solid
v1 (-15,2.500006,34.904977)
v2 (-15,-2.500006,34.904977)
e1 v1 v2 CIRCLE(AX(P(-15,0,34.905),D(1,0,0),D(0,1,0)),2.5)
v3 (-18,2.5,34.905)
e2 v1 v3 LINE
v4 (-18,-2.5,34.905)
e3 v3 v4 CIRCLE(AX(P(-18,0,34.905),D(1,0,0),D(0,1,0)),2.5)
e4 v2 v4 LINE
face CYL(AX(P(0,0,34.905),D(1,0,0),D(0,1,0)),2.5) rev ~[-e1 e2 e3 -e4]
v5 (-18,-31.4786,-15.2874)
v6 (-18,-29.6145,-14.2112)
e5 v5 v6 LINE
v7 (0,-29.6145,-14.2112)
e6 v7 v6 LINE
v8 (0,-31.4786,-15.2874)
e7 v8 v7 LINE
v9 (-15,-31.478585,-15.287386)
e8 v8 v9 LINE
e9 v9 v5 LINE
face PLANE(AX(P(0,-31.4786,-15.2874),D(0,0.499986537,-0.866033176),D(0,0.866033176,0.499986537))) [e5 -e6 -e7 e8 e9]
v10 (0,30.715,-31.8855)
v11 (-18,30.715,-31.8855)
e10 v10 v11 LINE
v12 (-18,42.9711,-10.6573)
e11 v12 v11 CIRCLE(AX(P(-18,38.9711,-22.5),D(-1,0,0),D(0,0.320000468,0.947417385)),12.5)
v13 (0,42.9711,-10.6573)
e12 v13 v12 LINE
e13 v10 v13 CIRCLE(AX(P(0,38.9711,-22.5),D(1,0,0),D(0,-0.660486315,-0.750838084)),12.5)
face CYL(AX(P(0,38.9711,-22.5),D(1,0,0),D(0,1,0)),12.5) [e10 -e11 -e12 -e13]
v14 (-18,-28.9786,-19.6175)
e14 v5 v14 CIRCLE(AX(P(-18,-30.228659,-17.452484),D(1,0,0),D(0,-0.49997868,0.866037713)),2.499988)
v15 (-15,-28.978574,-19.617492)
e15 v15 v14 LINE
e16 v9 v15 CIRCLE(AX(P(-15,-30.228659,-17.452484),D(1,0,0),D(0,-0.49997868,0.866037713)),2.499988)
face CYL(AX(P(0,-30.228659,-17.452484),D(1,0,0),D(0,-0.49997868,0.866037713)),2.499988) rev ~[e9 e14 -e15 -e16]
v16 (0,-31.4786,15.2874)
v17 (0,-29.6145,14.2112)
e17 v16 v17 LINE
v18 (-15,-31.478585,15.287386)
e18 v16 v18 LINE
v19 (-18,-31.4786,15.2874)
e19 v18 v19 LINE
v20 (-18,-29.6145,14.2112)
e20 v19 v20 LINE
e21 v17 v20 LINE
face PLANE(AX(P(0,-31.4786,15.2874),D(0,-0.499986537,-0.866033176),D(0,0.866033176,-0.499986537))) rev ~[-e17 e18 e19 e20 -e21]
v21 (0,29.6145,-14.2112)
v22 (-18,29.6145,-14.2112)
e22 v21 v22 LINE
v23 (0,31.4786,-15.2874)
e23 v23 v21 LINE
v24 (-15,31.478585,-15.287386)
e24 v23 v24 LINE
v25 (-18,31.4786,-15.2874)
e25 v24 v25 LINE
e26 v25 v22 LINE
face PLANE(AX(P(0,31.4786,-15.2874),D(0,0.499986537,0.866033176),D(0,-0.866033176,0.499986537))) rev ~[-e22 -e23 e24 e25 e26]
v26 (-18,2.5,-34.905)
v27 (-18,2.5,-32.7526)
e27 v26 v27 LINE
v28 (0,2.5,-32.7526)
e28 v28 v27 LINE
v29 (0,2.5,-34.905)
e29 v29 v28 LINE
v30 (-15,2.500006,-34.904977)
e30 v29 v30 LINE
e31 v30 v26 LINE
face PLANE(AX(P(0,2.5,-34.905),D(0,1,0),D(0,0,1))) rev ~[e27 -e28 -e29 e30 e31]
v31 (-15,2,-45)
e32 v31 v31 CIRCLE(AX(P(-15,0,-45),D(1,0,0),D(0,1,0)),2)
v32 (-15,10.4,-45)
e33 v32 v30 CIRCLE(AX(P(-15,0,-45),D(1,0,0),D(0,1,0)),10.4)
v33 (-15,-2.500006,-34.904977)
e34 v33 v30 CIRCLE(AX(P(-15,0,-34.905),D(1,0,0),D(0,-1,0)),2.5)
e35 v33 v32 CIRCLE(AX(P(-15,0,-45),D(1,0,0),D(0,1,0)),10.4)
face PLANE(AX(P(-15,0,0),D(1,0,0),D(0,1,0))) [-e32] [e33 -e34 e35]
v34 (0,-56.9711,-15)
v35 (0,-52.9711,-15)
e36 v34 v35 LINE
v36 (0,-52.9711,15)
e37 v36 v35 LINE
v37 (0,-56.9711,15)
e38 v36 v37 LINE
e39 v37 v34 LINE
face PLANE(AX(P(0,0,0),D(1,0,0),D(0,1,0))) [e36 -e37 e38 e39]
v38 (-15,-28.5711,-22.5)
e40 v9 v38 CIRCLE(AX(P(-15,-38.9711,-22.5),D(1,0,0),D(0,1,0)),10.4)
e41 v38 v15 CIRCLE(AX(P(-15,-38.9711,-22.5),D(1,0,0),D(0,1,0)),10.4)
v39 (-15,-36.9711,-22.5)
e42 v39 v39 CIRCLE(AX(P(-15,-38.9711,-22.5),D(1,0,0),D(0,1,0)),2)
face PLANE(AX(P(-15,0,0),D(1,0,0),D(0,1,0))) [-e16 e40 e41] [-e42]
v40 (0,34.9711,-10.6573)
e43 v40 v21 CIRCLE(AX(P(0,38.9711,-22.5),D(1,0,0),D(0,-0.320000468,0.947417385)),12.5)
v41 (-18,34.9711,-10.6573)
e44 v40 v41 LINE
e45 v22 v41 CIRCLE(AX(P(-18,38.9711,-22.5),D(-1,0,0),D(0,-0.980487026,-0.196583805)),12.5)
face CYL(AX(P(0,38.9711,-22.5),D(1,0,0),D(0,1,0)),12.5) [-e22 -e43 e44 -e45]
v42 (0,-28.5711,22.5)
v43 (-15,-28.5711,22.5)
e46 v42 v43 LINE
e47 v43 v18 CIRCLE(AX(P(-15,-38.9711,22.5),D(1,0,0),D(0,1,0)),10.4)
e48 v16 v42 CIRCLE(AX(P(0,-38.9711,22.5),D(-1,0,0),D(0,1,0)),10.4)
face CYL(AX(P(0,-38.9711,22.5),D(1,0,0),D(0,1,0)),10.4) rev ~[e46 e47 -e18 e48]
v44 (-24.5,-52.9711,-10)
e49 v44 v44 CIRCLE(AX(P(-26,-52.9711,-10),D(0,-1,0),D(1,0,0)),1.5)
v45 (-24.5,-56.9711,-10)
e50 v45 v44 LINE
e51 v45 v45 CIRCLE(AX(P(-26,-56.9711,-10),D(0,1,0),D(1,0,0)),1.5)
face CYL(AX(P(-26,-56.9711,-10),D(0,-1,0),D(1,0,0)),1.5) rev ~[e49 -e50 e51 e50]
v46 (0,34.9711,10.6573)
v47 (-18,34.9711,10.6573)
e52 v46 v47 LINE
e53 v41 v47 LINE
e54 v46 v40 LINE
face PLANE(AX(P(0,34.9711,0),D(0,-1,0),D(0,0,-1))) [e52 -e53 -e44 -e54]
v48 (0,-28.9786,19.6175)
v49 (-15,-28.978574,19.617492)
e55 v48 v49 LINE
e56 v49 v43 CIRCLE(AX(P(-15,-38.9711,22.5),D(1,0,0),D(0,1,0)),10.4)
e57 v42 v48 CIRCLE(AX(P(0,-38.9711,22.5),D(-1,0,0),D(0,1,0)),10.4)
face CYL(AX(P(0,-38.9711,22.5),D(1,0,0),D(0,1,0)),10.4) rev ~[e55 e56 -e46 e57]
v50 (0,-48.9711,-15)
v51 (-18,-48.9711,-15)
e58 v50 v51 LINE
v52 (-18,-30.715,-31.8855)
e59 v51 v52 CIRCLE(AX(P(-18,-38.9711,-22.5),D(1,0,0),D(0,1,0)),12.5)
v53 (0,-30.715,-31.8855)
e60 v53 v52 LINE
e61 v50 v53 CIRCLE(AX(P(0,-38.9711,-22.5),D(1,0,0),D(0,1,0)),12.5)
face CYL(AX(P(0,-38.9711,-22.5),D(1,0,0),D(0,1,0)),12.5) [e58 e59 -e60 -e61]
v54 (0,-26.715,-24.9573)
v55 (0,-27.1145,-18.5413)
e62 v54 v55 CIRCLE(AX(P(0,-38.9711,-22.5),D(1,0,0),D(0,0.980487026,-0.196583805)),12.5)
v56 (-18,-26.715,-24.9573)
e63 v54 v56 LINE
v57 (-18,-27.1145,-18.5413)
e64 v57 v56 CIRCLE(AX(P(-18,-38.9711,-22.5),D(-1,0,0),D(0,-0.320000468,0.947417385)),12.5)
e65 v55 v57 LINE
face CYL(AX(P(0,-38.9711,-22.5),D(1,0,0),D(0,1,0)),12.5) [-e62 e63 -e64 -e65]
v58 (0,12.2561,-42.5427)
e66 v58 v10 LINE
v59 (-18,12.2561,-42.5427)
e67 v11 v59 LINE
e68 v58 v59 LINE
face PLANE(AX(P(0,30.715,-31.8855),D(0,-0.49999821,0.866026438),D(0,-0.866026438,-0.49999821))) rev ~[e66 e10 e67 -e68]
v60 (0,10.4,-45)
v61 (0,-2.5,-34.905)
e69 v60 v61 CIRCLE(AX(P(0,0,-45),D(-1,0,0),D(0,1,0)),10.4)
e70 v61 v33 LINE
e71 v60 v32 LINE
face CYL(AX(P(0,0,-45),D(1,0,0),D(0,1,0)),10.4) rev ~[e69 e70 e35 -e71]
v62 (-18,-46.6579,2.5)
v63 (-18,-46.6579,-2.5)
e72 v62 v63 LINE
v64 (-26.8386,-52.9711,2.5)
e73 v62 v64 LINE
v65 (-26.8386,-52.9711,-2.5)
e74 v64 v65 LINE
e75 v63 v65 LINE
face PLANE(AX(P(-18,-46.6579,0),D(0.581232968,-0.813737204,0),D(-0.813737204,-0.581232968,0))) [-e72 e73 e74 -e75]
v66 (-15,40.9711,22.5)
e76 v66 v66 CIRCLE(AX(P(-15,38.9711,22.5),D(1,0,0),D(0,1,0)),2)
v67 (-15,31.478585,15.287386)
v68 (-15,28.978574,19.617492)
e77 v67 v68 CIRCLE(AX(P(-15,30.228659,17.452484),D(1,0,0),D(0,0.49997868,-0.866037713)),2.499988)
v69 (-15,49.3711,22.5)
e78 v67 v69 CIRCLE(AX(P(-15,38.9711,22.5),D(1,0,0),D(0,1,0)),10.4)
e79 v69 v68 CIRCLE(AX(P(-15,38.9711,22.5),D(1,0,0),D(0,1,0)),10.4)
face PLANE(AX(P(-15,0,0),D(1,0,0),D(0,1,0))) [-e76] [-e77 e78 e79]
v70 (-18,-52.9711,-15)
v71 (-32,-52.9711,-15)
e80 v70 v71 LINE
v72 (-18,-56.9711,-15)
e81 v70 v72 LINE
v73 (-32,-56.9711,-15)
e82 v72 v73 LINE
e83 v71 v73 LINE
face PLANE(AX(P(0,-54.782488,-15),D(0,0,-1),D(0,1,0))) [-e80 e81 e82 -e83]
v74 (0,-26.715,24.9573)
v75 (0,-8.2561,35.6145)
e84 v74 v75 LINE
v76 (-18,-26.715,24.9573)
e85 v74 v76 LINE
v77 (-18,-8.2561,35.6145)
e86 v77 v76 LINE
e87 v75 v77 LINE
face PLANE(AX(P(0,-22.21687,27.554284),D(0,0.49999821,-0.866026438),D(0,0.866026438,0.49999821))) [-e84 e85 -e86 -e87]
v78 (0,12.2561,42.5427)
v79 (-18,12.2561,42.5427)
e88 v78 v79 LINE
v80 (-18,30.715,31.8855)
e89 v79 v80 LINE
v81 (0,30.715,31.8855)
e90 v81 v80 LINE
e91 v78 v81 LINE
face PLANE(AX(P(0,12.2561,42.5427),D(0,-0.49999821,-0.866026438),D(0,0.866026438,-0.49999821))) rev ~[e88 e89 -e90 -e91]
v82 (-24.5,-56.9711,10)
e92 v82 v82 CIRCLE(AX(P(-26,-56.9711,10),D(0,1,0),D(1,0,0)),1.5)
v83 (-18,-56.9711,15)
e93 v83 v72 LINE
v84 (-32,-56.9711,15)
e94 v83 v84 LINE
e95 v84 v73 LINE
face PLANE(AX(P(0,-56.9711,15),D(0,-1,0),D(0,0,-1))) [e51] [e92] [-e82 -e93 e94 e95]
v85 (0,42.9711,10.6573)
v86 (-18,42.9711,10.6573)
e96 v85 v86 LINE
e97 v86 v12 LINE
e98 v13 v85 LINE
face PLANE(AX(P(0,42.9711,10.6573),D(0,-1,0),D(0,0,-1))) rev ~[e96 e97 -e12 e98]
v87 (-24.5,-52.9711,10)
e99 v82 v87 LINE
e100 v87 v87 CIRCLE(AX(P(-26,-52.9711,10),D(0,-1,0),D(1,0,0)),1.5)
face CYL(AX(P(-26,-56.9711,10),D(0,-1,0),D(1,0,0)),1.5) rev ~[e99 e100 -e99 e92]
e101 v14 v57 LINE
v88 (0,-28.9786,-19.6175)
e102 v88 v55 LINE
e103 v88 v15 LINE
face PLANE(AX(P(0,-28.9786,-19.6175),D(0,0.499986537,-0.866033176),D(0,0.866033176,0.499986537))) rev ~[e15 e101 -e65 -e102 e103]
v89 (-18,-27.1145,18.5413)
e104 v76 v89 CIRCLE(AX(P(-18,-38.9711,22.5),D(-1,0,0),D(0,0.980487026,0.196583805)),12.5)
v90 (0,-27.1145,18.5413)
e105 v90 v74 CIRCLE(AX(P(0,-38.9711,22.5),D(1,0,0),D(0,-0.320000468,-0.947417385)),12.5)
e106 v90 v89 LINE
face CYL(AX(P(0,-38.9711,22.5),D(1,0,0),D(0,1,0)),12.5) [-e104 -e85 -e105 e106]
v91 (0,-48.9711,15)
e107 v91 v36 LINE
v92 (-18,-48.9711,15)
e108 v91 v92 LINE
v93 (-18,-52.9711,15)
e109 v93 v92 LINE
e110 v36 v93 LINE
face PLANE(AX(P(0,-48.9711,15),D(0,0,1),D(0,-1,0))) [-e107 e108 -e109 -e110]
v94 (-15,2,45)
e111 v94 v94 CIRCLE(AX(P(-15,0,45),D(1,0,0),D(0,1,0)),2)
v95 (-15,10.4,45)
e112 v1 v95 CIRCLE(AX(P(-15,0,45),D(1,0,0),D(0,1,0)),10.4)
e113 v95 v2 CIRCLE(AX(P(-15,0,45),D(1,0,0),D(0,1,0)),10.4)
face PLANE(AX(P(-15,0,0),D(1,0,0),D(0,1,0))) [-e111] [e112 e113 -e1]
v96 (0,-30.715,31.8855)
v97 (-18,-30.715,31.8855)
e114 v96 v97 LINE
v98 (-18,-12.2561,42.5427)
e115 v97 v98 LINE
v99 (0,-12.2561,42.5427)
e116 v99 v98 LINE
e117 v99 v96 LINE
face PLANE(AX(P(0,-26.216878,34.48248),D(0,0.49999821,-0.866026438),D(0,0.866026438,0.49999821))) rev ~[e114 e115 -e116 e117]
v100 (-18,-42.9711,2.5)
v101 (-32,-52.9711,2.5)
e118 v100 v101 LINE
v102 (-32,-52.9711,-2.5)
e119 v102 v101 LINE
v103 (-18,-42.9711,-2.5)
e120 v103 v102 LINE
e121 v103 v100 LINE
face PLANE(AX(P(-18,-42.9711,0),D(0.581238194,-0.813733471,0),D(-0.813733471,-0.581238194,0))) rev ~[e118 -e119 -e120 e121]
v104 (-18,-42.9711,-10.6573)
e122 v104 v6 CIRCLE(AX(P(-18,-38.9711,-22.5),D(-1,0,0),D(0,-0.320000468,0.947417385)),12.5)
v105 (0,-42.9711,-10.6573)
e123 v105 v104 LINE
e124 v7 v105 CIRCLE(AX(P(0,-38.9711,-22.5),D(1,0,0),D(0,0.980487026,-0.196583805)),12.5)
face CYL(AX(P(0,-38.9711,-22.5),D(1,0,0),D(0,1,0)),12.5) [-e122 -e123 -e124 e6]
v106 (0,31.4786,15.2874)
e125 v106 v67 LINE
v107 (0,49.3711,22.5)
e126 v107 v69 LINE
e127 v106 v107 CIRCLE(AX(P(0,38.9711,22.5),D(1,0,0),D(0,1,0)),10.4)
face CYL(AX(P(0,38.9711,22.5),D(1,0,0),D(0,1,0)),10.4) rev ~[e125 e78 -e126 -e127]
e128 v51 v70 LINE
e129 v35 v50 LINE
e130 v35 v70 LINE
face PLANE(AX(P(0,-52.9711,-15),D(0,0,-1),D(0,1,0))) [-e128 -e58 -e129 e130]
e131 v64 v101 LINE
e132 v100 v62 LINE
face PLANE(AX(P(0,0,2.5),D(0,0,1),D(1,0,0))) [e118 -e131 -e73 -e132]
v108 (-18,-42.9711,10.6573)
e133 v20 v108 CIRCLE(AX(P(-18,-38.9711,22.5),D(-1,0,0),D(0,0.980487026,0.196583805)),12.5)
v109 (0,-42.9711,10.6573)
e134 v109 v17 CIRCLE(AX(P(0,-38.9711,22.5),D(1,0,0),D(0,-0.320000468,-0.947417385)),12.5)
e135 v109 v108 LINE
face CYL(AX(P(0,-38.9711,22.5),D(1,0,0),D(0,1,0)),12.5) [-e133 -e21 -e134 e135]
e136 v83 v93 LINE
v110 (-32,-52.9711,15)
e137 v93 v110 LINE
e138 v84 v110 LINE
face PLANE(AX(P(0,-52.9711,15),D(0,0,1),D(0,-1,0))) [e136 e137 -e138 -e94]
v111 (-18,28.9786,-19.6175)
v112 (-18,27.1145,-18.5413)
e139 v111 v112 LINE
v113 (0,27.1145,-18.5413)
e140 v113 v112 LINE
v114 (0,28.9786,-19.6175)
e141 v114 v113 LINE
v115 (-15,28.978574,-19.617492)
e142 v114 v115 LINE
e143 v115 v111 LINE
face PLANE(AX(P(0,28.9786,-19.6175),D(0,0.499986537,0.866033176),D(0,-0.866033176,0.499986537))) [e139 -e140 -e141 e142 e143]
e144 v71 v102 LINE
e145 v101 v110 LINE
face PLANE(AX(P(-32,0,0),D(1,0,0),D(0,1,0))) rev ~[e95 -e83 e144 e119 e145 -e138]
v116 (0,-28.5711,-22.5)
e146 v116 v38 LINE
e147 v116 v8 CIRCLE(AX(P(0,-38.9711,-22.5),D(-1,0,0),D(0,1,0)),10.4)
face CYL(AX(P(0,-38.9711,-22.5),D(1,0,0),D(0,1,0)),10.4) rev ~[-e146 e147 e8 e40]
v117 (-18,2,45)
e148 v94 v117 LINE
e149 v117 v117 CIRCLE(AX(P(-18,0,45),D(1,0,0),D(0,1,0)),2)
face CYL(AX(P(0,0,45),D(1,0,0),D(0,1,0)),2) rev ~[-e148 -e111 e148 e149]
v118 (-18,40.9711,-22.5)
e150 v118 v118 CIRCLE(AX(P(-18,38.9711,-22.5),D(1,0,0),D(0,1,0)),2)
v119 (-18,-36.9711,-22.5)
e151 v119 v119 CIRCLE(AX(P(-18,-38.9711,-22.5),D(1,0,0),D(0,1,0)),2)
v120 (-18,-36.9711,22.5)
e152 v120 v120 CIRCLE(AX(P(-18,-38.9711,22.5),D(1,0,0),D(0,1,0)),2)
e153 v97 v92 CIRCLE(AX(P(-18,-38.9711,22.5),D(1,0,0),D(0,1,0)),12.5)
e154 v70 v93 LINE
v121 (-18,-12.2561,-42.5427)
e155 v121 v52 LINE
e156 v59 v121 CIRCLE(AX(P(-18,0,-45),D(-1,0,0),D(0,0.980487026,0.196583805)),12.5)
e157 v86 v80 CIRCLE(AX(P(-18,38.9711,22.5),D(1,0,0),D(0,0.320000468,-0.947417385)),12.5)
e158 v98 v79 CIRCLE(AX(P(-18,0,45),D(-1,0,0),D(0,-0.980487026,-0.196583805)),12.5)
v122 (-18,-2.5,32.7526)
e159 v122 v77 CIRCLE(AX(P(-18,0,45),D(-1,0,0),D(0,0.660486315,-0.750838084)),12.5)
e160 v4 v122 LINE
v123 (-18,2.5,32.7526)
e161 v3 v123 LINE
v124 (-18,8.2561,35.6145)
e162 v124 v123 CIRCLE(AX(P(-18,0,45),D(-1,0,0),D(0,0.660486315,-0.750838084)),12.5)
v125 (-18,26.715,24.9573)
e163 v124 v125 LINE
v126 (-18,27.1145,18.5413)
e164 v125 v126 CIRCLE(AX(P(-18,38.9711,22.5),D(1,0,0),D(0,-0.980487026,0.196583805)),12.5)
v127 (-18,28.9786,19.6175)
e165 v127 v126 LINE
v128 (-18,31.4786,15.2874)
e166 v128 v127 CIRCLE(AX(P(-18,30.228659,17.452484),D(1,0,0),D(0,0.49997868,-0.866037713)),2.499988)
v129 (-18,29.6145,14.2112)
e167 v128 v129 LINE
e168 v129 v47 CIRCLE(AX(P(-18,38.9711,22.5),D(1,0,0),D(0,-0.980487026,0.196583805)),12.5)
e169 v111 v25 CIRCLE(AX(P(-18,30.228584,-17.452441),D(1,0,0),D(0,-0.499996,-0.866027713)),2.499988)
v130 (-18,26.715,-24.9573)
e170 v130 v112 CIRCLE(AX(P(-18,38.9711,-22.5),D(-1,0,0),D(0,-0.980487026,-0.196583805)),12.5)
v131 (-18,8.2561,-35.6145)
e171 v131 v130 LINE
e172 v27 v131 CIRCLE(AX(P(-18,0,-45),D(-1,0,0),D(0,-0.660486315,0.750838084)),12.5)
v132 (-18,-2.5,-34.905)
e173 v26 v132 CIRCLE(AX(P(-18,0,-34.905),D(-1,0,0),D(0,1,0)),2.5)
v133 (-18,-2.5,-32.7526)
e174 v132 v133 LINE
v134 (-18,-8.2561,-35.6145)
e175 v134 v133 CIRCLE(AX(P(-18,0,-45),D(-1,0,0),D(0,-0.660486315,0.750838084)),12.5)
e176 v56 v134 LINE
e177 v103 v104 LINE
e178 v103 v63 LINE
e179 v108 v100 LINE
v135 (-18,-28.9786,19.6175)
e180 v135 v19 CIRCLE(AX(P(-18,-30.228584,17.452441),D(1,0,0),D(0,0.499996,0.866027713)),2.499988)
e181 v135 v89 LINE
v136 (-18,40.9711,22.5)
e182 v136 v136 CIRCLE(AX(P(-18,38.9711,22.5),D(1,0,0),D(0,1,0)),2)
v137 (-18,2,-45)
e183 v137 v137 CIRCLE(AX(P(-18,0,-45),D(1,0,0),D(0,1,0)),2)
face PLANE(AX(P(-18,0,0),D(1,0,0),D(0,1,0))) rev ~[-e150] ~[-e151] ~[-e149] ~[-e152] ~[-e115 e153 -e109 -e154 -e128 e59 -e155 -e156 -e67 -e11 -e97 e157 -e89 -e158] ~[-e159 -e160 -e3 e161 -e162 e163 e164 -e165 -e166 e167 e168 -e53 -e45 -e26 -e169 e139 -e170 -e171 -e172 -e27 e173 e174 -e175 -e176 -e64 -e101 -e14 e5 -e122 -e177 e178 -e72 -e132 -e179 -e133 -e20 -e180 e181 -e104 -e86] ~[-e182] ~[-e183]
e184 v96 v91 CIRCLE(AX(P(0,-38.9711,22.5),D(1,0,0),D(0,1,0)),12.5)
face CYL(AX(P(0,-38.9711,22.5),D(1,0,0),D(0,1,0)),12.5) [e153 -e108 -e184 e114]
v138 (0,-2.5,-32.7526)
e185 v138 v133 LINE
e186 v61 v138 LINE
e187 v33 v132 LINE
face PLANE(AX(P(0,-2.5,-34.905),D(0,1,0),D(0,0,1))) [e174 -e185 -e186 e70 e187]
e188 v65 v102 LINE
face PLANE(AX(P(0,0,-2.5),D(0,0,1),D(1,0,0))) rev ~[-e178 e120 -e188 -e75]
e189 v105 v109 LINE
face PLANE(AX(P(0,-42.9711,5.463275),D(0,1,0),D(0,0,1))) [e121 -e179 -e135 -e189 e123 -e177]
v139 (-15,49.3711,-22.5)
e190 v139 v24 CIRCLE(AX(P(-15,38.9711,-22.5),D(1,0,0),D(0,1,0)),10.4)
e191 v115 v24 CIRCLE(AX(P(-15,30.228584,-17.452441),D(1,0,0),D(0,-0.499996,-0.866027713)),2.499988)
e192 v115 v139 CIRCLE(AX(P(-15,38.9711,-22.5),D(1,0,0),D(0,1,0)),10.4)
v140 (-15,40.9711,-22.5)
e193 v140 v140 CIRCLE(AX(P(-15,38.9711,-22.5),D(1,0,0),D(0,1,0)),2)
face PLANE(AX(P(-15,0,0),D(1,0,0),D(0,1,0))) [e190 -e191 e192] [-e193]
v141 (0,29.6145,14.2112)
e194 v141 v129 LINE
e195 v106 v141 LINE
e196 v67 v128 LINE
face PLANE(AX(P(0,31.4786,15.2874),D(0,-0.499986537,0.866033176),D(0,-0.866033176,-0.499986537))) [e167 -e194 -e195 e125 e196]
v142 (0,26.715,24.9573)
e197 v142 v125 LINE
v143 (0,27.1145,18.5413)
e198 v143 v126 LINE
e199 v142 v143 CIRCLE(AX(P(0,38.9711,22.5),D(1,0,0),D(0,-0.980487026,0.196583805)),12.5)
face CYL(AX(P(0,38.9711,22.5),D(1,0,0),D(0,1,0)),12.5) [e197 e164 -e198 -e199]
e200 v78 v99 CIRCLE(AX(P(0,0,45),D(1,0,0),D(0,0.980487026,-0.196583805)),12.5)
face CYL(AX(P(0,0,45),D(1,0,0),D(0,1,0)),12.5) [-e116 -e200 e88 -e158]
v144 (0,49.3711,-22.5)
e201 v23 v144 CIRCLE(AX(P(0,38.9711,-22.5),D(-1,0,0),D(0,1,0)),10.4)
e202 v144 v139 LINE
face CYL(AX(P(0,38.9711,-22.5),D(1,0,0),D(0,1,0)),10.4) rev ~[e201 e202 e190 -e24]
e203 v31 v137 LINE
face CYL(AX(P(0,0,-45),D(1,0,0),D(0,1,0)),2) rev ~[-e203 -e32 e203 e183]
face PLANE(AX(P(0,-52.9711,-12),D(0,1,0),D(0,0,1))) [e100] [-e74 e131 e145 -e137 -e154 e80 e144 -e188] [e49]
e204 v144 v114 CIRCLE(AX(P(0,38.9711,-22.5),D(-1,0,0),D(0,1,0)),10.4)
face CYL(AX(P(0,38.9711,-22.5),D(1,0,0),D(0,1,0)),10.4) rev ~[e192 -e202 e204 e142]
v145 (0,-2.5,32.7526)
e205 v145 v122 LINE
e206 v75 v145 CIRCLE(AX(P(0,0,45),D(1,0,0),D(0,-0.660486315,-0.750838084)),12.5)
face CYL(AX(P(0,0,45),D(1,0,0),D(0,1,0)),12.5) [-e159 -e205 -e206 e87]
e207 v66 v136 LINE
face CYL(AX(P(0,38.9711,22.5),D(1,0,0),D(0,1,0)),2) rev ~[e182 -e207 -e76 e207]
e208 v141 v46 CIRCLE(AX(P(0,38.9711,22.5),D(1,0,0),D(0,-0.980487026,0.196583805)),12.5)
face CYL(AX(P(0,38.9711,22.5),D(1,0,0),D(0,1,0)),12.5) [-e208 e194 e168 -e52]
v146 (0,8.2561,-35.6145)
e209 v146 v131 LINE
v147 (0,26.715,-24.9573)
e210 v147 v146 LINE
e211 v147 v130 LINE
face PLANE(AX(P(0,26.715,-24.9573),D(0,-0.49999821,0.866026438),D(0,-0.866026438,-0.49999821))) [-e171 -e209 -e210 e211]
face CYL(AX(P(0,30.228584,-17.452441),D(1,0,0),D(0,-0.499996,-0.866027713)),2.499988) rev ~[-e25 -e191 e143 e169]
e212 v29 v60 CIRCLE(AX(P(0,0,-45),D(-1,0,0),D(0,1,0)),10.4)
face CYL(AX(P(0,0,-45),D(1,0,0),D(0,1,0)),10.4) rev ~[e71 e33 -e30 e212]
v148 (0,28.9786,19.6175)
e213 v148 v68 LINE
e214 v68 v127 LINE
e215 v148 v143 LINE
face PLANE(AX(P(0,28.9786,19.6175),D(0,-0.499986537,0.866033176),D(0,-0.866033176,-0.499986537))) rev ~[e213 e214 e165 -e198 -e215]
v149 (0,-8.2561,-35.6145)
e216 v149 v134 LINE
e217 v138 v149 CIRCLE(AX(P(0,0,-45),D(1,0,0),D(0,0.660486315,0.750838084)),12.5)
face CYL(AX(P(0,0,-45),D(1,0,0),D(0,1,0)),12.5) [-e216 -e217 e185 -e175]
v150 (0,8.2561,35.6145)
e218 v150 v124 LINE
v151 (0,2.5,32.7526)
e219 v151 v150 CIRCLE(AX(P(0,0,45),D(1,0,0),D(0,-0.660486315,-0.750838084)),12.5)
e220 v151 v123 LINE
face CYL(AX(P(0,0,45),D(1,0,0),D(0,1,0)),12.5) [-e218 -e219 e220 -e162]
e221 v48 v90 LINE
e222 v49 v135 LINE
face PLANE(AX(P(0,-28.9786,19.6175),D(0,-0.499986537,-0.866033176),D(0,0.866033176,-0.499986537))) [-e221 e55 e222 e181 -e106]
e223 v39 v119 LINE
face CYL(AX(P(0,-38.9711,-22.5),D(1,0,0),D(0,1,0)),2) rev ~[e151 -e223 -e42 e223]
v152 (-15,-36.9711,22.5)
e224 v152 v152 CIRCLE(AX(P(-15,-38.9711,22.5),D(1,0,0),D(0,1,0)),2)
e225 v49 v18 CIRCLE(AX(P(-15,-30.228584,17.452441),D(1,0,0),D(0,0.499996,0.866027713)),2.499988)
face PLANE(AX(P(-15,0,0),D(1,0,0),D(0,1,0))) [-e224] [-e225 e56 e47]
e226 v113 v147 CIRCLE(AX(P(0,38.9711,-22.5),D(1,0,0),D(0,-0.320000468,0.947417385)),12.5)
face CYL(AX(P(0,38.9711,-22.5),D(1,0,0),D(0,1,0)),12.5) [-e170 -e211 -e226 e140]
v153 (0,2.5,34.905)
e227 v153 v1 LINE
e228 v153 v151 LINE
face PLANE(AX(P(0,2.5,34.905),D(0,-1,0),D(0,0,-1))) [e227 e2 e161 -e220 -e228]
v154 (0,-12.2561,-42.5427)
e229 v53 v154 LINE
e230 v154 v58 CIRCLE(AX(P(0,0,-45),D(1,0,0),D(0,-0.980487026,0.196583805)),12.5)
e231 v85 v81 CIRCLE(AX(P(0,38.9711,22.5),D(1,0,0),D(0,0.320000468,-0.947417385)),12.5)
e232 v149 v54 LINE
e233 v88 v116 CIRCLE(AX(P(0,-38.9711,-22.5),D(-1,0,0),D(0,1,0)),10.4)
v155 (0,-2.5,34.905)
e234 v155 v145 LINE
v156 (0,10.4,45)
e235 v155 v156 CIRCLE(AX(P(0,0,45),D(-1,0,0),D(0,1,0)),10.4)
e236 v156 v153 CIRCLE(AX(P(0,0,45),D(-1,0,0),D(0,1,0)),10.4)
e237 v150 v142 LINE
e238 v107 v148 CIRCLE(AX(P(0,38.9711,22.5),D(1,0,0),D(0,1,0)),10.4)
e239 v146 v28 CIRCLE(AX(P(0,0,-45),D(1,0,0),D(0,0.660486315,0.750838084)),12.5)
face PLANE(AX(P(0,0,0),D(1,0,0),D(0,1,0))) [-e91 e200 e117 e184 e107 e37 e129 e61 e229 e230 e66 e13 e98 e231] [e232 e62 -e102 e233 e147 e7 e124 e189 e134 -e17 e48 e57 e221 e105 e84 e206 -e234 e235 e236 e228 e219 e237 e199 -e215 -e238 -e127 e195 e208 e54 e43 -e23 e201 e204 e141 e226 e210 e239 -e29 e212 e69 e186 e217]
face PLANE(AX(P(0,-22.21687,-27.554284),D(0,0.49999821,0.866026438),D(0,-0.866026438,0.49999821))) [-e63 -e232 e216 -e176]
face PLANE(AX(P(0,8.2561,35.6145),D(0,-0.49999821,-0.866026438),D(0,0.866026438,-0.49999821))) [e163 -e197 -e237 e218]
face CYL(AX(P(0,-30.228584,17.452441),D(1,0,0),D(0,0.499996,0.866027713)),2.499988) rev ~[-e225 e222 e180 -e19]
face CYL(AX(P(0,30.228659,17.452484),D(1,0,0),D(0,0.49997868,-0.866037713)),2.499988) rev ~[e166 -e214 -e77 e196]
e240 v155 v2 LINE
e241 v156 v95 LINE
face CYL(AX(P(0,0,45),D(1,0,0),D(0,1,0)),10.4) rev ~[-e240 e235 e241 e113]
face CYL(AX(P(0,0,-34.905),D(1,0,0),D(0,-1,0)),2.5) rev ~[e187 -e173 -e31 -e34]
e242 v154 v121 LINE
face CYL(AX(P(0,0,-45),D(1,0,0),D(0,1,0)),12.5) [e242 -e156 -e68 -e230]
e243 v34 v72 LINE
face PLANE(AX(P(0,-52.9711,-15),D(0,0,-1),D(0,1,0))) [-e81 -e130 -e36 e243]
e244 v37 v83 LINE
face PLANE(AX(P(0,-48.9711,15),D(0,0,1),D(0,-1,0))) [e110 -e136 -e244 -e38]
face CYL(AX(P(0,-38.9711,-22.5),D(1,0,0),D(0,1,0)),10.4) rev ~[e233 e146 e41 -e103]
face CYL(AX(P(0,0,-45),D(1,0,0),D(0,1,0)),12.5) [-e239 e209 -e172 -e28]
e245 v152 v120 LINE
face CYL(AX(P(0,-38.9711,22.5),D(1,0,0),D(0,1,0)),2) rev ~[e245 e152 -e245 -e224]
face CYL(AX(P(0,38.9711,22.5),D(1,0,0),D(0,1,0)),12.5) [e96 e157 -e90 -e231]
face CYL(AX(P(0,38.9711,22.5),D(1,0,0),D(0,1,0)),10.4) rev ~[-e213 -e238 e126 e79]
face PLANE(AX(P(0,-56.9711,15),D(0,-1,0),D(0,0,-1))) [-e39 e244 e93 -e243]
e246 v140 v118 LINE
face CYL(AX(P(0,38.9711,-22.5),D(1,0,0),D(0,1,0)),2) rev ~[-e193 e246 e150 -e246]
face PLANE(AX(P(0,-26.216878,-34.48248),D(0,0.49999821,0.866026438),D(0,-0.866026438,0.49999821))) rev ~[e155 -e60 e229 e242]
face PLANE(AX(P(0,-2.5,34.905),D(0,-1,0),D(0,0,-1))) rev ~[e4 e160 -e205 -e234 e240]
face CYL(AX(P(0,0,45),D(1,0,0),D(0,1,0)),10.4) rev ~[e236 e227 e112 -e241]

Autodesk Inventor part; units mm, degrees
ref_plane "YZ Plane" through (0, 0, 0) normal (1, 0, 0) x (0, 1, 0)
ref_plane "XZ Plane" through (0, 0, 0) normal (0, 1, 0) x (-1, 0, 0)
ref_plane "XY Plane" through (0, 0, 0) normal (0, 0, 1) x (1, 0, 0)
sketch "Sketch1" plane through (0, 0, 0) normal (1, 0, 0) x (0, 1, 0)
  line L0 (38.9711, 22.5) -> (38.9711, -22.5)
  line L1 (38.9711, -22.5) -> (0, -45)
  line L2 (0, -45) -> (-38.9711, -22.5)
  line L3 (-38.9711, -22.5) -> (-38.9711, 22.5)
  line L4 (-38.9711, 22.5) -> (0, 45)
  line L5 (0, 45) -> (38.9711, 22.5)
  line L6 (0, 45) -> (0, -45)
  line L7 (38.9711, 0) -> (-38.9711, 0)
  circle A0 centre (38.9711, -22.5) radius 17.5
  circle A1 centre (38.9711, -22.5) radius 12.5
  circle A2 centre (38.9711, -22.5) radius 10.4
  circle A3 centre (38.9711, -22.5) radius 15
  line L8 (38.9711, -22.5) -> (62.5188, -22.5)
  line L9 (53.9711, -26.5) -> (61.9711, -26.5)
  line L10 (61.9711, -26.5) -> (61.9711, -18.5)
  line L11 (61.9711, -18.5) -> (53.9711, -18.5)
  line L12 (53.9711, -18.5) -> (53.9711, -26.5)
  line L13 (53.9711, -26.5) -> (61.9711, -18.5) construction
  line L14 (61.9711, -26.5) -> (53.9711, -18.5) construction
  circle A4 centre (38.9711, 22.5) radius 10.4
  circle A5 centre (38.9711, 22.5) radius 12.5
  circle A6 centre (0, 45) radius 10.4
  circle A7 centre (0, 45) radius 12.5
  circle A8 centre (-38.9711, 22.5) radius 10.4
  circle A9 centre (-38.9711, 22.5) radius 12.5
  circle A10 centre (-38.9711, -22.5) radius 10.4
  circle A11 centre (-38.9711, -22.5) radius 12.5
  circle A12 centre (0, -45) radius 10.4
  circle A13 centre (0, -45) radius 12.5
  line L15 (42.9711, 10.6573) -> (42.9711, -10.6573)
  line L16 (34.9711, 10.6573) -> (34.9711, -10.6573)
  line L17 (12.2561, 42.5427) -> (30.715, 31.8855)
  line L18 (8.2561, 35.6145) -> (26.715, 24.9573)
  line L19 (-30.715, 31.8855) -> (-12.2561, 42.5427)
  line L20 (-26.715, 24.9573) -> (-8.2561, 35.6145)
  line L21 (-42.9711, -10.6573) -> (-42.9711, 10.6573)
  line L22 (-34.9711, -10.6573) -> (-34.9711, 10.6573)
  line L23 (-12.2561, -42.5427) -> (-30.715, -31.8855)
  line L24 (-8.2561, -35.6145) -> (-26.715, -24.9573)
  line L25 (30.715, -31.8855) -> (12.2561, -42.5427)
  line L26 (26.715, -24.9573) -> (8.2561, -35.6145)
  line L27 (38.9711, 22.5) -> (0, 0)
  line L28 (28.9786, 19.6175) -> (27.1145, 18.5413)
  line L29 (31.4786, 15.2874) -> (29.6145, 14.2112)
  line L30 (29.9645, 17.3) -> (28.1458, 16.25)
  arc A14 (31.4786, 15.2874) -> (28.9786, 19.6175) centre (30.2286, 17.4525) ccw
  arc A15 (27.1145, 18.5413) -> (29.6145, 14.2112) centre (28.3645, 16.3763) ccw
  arc A16 (2.5, 34.905) -> (-2.5, 34.905) centre (0, 34.905) ccw
  line L31 (2.5, 34.905) -> (2.5, 32.7526)
  line L32 (-2.5, 34.905) -> (-2.5, 32.7526)
  arc A17 (-2.5, 32.7526) -> (2.5, 32.7526) centre (0, 32.7526) ccw
  arc A18 (-28.9786, 19.6175) -> (-31.4786, 15.2874) centre (-30.2286, 17.4525) ccw
  line L33 (-28.9786, 19.6175) -> (-27.1145, 18.5413)
  line L34 (-31.4786, 15.2874) -> (-29.6145, 14.2112)
  arc A19 (-29.6145, 14.2112) -> (-27.1145, 18.5413) centre (-28.3645, 16.3763) ccw
  arc A20 (-31.4786, -15.2874) -> (-28.9786, -19.6175) centre (-30.2286, -17.4525) ccw
  line L35 (-31.4786, -15.2874) -> (-29.6145, -14.2112)
  line L36 (-28.9786, -19.6175) -> (-27.1145, -18.5413)
  arc A21 (-27.1145, -18.5413) -> (-29.6145, -14.2112) centre (-28.3645, -16.3763) ccw
  arc A22 (-2.5, -34.905) -> (2.5, -34.905) centre (0, -34.905) ccw
  line L37 (-2.5, -34.905) -> (-2.5, -32.7526)
  line L38 (2.5, -34.905) -> (2.5, -32.7526)
  arc A23 (2.5, -32.7526) -> (-2.5, -32.7526) centre (0, -32.7526) ccw
  arc A24 (28.9786, -19.6175) -> (31.4786, -15.2874) centre (30.2286, -17.4525) ccw
  line L39 (28.9786, -19.6175) -> (27.1145, -18.5413)
  line L40 (31.4786, -15.2874) -> (29.6145, -14.2112)
  arc A25 (29.6145, -14.2112) -> (27.1145, -18.5413) centre (28.3645, -16.3763) ccw
  line L41 (-48.9711, -15) -> (-48.9711, 15)
  line L42 (-48.9711, 15) -> (-56.9711, 15)
  line L43 (-56.9711, 15) -> (-56.9711, -15)
  line L44 (-56.9711, -15) -> (-48.9711, -15)
  circle A26 centre (-38.9711, -22.5) radius 17.5
  circle A27 centre (-38.9711, 22.5) radius 17.5
  line L45 (-52.9711, -15) -> (-52.9711, 15)
  circle A28 centre (38.9711, 22.5) radius 2
  circle A29 centre (0, 45) radius 2
  circle A30 centre (-38.9711, 22.5) radius 2
  circle A31 centre (-38.9711, -22.5) radius 2
  circle A32 centre (0, -45) radius 2
  circle A33 centre (38.9711, -22.5) radius 2
  point P0 (57.9711, -22.5)
  point P1 (-42.9711, 10.6573)
  dimension "d0" = 35
  dimension "d1" = 45
  dimension "d2" = 25
  dimension "d3" = 20.8
  dimension "d4" = 30
  dimension "d5" = 8
  dimension "d6" = 8
  dimension "d9" = 360
  dimension "d11" = 4
  dimension "d12" = 4
  dimension "d15" = 360
  dimension "d17" = 2.5
  dimension "d18" = 2.5
  dimension "d22" = 360
  dimension "d24" = 30
  dimension "d25" = 8
  dimension "d26" = 30
  dimension "d28" = 35
  dimension "d29" = 35
  dimension "d30" = 4
  dimension "d35" = 4
  dimension "d38" = 360
extrude "Extrusion1" add sketch "Sketch1" against normal blind 18 contours L5 A28 L0 | L27 A28 L5 | L0 A28 L27 | A28 L5 A4 L0 | L0 A4 A14 L27 A28 | A28 L27 A14 A4 L5 | A4 L5 A5 L0 | L0 A5 L29 A4 | A4 L28 A5 L5 | A14 A4 L27 | L27 A4 A14 | A5 L15 A0 L0 | L0 L7 L16 A5 | L29 A5 L27 A4 | A5 L18 A7 L5 | L5 A7 L17 A5 | A4 L27 A5 L28 | L0 A0 L16 L7 | A7 L31 A6 L5 | L5 A6 L4 A7 | A0 L15 A3 L0 | L0 A3 L16 A0 | A6 A16 L6 A29 L5 | L5 A29 L4 A6 | A3 L15 A1 L0 | L0 A1 L16 A3 | A29 L6 L5 | L5 L4 A29 | L31 A7 L6 A6 | A6 L6 A16 | A1 L8 A2 L0 | L0 A2 L40 A1 | L26 A3 L1 A0 | A0 L1 A13 L26 | L6 A29 L4 | L6 A16 A6 L4 A29 | A6 A16 L6 | L6 A7 L32 A6 | A6 L32 A7 L4 | A7 L4 A27 L19 | A2 L8 A33 L0 | L0 A33 L1 A2 A24 | L26 A1 L1 A3 | A0 L25 A13 L1 | L1 A3 L25 A0 | A13 L1 A12 L38 | A13 L38 A12 L6 | L6 A12 L37 A13 | L37 A12 L2 A13 | A3 L1 A1 L25 | A1 L1 A2 L8 | A7 L20 A27 L4 | A27 L4 A9 L19 | A33 L8 L0 | L0 L1 A33 | A2 L1 A33 L8 | A24 A2 | A2 L39 A1 L40 | A1 L39 A2 L1 | A13 L2 A12 L1 | A12 A22 L6 | L6 A22 A12 | A12 L1 A32 L6 A22 | A13 L2 A26 L24 | A22 L6 A32 L2 A12 | A11 L35 A10 L3 | A9 L3 A8 L34 | A27 L20 A9 L4 | A9 L4 A8 L3 | A27 L45 A26 L44 L43 L42 | L42 L45 A27 | L8 A33 L1 | A12 L2 A32 L1 | A13 L23 A26 L2 | A26 L2 A11 L24 | L3 A10 L2 A11 | A26 L41 A27 L21 | L21 A11 L41 A26 | A27 L41 A9 L21 | A11 L36 A10 L35 | L34 A8 L33 A9 | A9 L33 A8 L4 | L41 A27 L45 L42 | A27 L41 A26 L45 | A32 L2 L1 | L1 L6 A32 | L6 L2 A32 | A26 L23 A11 L2 | A11 L2 A10 L36 | A10 A20 L2 A31 L3 | L3 A31 L2 A10 | L41 L44 L45 A26 | A8 L4 A30 L3 | L3 A30 L4 A8 A18 | A10 A20 | A18 A8 | L45 L44 A26 | A31 L2 L3 | L3 L2 A31 | A30 L4 L3 | L3 L4 A30
extrude "Extrusion2" cut sketch "Sketch1" against normal blind 15 contours L5 A28 L0 | L27 A28 L5 | L0 A28 L27 | A28 L5 A4 L0 | L0 A4 A14 L27 A28 | A28 L27 A14 A4 L5 | A14 A4 L27 | L27 A4 A14 | A6 A16 L6 A29 L5 | L5 A29 L4 A6 | A29 L6 L5 | L5 L4 A29 | A6 L6 A16 | L6 A29 L4 | L6 A16 A6 L4 A29 | A6 A16 L6 | A2 L8 A33 L0 | L0 A33 L1 A2 A24 | A33 L8 L0 | L0 L1 A33 | A2 L1 A33 L8 | A24 A2 | A12 A22 L6 | L6 A22 A12 | A12 L1 A32 L6 A22 | A22 L6 A32 L2 A12 | L8 A33 L1 | A12 L2 A32 L1 | A32 L2 L1 | L1 L6 A32 | L6 L2 A32 | A10 A20 L2 A31 L3 | L3 A31 L2 A10 | A8 L4 A30 L3 | L3 A30 L4 A8 A18 | A10 A20 | A18 A8 | A31 L2 L3 | L3 L2 A31 | A30 L4 L3 | L3 L4 A30
extrude "Extrusion3" cut sketch "Sketch1" against normal blind 18 contours L5 A28 L0 | L27 A28 L5 | L0 A28 L27 | A14 A4 L27 | L27 A4 A14 | L29 A5 L27 A4 | A4 L27 A5 L28 | A29 L6 L5 | L5 L4 A29 | L31 A7 L6 A6 | A6 L6 A16 | L6 A29 L4 | A6 A16 L6 | L6 A7 L32 A6 | A13 L38 A12 L6 | L6 A12 L37 A13 | A33 L8 L0 | L0 L1 A33 | A24 A2 | A2 L39 A1 L40 | A12 A22 L6 | L6 A22 A12 | L8 A33 L1 | A11 L36 A10 L35 | L34 A8 L33 A9 | A32 L2 L1 | L1 L6 A32 | L6 L2 A32 | A10 A20 | A18 A8 | A31 L2 L3 | L3 L2 A31 | A30 L4 L3 | L3 L4 A30
extrude "Extrusion4" add sketch "Sketch1" against normal blind 32 contours A27 L45 A26 L44 L43 L42 | L42 L45 A27 | L45 L44 A26
sketch "Sketch2" plane through (0, 0, 0) normal (0, 0, 1) x (1, 0, 0)
  line L0 (-18, -42.9711) -> (-32, -52.9711)
  line L1 (-18, -30.715) -> (-18, -51.4711) projected
  line L2 (-18, -46.6579) -> (-26.8386, -52.9711)
  line L3 (-18, -52.9711) -> (-32, -52.9711) projected
  point P0 (0, 0)
  point P1 (-18, -48.9711)
  point P2 (-22.4193, -49.8145)
  dimension "d44" = 3
extrude "Extrusion5" add sketch "Sketch2" along normal mid plane 5
sketch "Sketch3" plane through (0, -56.9711, -15) normal (0, -1, 0) x (1, 0, 0)
  line L0 (0, 30) -> (0, 0) projected
  line L1 (0, 30) -> (-32, 30) projected
  line L2 (-32, 0) -> (-32, 30) projected
  line L3 (0, 0) -> (-32, 0) projected
  line L4 (-32, 0) -> (0, 30)
  line L5 (-6, 25) -> (-26, 25)
  line L6 (-26, 25) -> (-26, 5)
  line L7 (-26, 5) -> (-6, 5)
  line L8 (-6, 5) -> (-6, 25)
  line L9 (-6, 25) -> (-26, 5) construction
  line L10 (-26, 25) -> (-6, 5) construction
  circle A0 centre (-26, 25) radius 1.5
  circle A1 centre (-26, 5) radius 1.5
  circle A2 centre (-6, 5) radius 1.5
  circle A3 centre (-6, 25) radius 1.5
  point P0 (0, 15)
  point P1 (-16, 15)
  dimension "d47" = 20
  dimension "d48" = 20
  dimension "d49" = 3
  dimension "d52" = 360
extrude "Extrusion6" cut sketch "Sketch3" against normal blind 5 contours A1 L6 L4 | L4 L6 L7 A1 | A0 L6 L5 | L5 L6 A0 | L6 A1 L4 | L4 A1 L7 L6
equation "\"d6\" = d5"
equation "\"d12\" = d11"
equation "\"d18\" = d17"
properties part number "support_electrical_magnets"
